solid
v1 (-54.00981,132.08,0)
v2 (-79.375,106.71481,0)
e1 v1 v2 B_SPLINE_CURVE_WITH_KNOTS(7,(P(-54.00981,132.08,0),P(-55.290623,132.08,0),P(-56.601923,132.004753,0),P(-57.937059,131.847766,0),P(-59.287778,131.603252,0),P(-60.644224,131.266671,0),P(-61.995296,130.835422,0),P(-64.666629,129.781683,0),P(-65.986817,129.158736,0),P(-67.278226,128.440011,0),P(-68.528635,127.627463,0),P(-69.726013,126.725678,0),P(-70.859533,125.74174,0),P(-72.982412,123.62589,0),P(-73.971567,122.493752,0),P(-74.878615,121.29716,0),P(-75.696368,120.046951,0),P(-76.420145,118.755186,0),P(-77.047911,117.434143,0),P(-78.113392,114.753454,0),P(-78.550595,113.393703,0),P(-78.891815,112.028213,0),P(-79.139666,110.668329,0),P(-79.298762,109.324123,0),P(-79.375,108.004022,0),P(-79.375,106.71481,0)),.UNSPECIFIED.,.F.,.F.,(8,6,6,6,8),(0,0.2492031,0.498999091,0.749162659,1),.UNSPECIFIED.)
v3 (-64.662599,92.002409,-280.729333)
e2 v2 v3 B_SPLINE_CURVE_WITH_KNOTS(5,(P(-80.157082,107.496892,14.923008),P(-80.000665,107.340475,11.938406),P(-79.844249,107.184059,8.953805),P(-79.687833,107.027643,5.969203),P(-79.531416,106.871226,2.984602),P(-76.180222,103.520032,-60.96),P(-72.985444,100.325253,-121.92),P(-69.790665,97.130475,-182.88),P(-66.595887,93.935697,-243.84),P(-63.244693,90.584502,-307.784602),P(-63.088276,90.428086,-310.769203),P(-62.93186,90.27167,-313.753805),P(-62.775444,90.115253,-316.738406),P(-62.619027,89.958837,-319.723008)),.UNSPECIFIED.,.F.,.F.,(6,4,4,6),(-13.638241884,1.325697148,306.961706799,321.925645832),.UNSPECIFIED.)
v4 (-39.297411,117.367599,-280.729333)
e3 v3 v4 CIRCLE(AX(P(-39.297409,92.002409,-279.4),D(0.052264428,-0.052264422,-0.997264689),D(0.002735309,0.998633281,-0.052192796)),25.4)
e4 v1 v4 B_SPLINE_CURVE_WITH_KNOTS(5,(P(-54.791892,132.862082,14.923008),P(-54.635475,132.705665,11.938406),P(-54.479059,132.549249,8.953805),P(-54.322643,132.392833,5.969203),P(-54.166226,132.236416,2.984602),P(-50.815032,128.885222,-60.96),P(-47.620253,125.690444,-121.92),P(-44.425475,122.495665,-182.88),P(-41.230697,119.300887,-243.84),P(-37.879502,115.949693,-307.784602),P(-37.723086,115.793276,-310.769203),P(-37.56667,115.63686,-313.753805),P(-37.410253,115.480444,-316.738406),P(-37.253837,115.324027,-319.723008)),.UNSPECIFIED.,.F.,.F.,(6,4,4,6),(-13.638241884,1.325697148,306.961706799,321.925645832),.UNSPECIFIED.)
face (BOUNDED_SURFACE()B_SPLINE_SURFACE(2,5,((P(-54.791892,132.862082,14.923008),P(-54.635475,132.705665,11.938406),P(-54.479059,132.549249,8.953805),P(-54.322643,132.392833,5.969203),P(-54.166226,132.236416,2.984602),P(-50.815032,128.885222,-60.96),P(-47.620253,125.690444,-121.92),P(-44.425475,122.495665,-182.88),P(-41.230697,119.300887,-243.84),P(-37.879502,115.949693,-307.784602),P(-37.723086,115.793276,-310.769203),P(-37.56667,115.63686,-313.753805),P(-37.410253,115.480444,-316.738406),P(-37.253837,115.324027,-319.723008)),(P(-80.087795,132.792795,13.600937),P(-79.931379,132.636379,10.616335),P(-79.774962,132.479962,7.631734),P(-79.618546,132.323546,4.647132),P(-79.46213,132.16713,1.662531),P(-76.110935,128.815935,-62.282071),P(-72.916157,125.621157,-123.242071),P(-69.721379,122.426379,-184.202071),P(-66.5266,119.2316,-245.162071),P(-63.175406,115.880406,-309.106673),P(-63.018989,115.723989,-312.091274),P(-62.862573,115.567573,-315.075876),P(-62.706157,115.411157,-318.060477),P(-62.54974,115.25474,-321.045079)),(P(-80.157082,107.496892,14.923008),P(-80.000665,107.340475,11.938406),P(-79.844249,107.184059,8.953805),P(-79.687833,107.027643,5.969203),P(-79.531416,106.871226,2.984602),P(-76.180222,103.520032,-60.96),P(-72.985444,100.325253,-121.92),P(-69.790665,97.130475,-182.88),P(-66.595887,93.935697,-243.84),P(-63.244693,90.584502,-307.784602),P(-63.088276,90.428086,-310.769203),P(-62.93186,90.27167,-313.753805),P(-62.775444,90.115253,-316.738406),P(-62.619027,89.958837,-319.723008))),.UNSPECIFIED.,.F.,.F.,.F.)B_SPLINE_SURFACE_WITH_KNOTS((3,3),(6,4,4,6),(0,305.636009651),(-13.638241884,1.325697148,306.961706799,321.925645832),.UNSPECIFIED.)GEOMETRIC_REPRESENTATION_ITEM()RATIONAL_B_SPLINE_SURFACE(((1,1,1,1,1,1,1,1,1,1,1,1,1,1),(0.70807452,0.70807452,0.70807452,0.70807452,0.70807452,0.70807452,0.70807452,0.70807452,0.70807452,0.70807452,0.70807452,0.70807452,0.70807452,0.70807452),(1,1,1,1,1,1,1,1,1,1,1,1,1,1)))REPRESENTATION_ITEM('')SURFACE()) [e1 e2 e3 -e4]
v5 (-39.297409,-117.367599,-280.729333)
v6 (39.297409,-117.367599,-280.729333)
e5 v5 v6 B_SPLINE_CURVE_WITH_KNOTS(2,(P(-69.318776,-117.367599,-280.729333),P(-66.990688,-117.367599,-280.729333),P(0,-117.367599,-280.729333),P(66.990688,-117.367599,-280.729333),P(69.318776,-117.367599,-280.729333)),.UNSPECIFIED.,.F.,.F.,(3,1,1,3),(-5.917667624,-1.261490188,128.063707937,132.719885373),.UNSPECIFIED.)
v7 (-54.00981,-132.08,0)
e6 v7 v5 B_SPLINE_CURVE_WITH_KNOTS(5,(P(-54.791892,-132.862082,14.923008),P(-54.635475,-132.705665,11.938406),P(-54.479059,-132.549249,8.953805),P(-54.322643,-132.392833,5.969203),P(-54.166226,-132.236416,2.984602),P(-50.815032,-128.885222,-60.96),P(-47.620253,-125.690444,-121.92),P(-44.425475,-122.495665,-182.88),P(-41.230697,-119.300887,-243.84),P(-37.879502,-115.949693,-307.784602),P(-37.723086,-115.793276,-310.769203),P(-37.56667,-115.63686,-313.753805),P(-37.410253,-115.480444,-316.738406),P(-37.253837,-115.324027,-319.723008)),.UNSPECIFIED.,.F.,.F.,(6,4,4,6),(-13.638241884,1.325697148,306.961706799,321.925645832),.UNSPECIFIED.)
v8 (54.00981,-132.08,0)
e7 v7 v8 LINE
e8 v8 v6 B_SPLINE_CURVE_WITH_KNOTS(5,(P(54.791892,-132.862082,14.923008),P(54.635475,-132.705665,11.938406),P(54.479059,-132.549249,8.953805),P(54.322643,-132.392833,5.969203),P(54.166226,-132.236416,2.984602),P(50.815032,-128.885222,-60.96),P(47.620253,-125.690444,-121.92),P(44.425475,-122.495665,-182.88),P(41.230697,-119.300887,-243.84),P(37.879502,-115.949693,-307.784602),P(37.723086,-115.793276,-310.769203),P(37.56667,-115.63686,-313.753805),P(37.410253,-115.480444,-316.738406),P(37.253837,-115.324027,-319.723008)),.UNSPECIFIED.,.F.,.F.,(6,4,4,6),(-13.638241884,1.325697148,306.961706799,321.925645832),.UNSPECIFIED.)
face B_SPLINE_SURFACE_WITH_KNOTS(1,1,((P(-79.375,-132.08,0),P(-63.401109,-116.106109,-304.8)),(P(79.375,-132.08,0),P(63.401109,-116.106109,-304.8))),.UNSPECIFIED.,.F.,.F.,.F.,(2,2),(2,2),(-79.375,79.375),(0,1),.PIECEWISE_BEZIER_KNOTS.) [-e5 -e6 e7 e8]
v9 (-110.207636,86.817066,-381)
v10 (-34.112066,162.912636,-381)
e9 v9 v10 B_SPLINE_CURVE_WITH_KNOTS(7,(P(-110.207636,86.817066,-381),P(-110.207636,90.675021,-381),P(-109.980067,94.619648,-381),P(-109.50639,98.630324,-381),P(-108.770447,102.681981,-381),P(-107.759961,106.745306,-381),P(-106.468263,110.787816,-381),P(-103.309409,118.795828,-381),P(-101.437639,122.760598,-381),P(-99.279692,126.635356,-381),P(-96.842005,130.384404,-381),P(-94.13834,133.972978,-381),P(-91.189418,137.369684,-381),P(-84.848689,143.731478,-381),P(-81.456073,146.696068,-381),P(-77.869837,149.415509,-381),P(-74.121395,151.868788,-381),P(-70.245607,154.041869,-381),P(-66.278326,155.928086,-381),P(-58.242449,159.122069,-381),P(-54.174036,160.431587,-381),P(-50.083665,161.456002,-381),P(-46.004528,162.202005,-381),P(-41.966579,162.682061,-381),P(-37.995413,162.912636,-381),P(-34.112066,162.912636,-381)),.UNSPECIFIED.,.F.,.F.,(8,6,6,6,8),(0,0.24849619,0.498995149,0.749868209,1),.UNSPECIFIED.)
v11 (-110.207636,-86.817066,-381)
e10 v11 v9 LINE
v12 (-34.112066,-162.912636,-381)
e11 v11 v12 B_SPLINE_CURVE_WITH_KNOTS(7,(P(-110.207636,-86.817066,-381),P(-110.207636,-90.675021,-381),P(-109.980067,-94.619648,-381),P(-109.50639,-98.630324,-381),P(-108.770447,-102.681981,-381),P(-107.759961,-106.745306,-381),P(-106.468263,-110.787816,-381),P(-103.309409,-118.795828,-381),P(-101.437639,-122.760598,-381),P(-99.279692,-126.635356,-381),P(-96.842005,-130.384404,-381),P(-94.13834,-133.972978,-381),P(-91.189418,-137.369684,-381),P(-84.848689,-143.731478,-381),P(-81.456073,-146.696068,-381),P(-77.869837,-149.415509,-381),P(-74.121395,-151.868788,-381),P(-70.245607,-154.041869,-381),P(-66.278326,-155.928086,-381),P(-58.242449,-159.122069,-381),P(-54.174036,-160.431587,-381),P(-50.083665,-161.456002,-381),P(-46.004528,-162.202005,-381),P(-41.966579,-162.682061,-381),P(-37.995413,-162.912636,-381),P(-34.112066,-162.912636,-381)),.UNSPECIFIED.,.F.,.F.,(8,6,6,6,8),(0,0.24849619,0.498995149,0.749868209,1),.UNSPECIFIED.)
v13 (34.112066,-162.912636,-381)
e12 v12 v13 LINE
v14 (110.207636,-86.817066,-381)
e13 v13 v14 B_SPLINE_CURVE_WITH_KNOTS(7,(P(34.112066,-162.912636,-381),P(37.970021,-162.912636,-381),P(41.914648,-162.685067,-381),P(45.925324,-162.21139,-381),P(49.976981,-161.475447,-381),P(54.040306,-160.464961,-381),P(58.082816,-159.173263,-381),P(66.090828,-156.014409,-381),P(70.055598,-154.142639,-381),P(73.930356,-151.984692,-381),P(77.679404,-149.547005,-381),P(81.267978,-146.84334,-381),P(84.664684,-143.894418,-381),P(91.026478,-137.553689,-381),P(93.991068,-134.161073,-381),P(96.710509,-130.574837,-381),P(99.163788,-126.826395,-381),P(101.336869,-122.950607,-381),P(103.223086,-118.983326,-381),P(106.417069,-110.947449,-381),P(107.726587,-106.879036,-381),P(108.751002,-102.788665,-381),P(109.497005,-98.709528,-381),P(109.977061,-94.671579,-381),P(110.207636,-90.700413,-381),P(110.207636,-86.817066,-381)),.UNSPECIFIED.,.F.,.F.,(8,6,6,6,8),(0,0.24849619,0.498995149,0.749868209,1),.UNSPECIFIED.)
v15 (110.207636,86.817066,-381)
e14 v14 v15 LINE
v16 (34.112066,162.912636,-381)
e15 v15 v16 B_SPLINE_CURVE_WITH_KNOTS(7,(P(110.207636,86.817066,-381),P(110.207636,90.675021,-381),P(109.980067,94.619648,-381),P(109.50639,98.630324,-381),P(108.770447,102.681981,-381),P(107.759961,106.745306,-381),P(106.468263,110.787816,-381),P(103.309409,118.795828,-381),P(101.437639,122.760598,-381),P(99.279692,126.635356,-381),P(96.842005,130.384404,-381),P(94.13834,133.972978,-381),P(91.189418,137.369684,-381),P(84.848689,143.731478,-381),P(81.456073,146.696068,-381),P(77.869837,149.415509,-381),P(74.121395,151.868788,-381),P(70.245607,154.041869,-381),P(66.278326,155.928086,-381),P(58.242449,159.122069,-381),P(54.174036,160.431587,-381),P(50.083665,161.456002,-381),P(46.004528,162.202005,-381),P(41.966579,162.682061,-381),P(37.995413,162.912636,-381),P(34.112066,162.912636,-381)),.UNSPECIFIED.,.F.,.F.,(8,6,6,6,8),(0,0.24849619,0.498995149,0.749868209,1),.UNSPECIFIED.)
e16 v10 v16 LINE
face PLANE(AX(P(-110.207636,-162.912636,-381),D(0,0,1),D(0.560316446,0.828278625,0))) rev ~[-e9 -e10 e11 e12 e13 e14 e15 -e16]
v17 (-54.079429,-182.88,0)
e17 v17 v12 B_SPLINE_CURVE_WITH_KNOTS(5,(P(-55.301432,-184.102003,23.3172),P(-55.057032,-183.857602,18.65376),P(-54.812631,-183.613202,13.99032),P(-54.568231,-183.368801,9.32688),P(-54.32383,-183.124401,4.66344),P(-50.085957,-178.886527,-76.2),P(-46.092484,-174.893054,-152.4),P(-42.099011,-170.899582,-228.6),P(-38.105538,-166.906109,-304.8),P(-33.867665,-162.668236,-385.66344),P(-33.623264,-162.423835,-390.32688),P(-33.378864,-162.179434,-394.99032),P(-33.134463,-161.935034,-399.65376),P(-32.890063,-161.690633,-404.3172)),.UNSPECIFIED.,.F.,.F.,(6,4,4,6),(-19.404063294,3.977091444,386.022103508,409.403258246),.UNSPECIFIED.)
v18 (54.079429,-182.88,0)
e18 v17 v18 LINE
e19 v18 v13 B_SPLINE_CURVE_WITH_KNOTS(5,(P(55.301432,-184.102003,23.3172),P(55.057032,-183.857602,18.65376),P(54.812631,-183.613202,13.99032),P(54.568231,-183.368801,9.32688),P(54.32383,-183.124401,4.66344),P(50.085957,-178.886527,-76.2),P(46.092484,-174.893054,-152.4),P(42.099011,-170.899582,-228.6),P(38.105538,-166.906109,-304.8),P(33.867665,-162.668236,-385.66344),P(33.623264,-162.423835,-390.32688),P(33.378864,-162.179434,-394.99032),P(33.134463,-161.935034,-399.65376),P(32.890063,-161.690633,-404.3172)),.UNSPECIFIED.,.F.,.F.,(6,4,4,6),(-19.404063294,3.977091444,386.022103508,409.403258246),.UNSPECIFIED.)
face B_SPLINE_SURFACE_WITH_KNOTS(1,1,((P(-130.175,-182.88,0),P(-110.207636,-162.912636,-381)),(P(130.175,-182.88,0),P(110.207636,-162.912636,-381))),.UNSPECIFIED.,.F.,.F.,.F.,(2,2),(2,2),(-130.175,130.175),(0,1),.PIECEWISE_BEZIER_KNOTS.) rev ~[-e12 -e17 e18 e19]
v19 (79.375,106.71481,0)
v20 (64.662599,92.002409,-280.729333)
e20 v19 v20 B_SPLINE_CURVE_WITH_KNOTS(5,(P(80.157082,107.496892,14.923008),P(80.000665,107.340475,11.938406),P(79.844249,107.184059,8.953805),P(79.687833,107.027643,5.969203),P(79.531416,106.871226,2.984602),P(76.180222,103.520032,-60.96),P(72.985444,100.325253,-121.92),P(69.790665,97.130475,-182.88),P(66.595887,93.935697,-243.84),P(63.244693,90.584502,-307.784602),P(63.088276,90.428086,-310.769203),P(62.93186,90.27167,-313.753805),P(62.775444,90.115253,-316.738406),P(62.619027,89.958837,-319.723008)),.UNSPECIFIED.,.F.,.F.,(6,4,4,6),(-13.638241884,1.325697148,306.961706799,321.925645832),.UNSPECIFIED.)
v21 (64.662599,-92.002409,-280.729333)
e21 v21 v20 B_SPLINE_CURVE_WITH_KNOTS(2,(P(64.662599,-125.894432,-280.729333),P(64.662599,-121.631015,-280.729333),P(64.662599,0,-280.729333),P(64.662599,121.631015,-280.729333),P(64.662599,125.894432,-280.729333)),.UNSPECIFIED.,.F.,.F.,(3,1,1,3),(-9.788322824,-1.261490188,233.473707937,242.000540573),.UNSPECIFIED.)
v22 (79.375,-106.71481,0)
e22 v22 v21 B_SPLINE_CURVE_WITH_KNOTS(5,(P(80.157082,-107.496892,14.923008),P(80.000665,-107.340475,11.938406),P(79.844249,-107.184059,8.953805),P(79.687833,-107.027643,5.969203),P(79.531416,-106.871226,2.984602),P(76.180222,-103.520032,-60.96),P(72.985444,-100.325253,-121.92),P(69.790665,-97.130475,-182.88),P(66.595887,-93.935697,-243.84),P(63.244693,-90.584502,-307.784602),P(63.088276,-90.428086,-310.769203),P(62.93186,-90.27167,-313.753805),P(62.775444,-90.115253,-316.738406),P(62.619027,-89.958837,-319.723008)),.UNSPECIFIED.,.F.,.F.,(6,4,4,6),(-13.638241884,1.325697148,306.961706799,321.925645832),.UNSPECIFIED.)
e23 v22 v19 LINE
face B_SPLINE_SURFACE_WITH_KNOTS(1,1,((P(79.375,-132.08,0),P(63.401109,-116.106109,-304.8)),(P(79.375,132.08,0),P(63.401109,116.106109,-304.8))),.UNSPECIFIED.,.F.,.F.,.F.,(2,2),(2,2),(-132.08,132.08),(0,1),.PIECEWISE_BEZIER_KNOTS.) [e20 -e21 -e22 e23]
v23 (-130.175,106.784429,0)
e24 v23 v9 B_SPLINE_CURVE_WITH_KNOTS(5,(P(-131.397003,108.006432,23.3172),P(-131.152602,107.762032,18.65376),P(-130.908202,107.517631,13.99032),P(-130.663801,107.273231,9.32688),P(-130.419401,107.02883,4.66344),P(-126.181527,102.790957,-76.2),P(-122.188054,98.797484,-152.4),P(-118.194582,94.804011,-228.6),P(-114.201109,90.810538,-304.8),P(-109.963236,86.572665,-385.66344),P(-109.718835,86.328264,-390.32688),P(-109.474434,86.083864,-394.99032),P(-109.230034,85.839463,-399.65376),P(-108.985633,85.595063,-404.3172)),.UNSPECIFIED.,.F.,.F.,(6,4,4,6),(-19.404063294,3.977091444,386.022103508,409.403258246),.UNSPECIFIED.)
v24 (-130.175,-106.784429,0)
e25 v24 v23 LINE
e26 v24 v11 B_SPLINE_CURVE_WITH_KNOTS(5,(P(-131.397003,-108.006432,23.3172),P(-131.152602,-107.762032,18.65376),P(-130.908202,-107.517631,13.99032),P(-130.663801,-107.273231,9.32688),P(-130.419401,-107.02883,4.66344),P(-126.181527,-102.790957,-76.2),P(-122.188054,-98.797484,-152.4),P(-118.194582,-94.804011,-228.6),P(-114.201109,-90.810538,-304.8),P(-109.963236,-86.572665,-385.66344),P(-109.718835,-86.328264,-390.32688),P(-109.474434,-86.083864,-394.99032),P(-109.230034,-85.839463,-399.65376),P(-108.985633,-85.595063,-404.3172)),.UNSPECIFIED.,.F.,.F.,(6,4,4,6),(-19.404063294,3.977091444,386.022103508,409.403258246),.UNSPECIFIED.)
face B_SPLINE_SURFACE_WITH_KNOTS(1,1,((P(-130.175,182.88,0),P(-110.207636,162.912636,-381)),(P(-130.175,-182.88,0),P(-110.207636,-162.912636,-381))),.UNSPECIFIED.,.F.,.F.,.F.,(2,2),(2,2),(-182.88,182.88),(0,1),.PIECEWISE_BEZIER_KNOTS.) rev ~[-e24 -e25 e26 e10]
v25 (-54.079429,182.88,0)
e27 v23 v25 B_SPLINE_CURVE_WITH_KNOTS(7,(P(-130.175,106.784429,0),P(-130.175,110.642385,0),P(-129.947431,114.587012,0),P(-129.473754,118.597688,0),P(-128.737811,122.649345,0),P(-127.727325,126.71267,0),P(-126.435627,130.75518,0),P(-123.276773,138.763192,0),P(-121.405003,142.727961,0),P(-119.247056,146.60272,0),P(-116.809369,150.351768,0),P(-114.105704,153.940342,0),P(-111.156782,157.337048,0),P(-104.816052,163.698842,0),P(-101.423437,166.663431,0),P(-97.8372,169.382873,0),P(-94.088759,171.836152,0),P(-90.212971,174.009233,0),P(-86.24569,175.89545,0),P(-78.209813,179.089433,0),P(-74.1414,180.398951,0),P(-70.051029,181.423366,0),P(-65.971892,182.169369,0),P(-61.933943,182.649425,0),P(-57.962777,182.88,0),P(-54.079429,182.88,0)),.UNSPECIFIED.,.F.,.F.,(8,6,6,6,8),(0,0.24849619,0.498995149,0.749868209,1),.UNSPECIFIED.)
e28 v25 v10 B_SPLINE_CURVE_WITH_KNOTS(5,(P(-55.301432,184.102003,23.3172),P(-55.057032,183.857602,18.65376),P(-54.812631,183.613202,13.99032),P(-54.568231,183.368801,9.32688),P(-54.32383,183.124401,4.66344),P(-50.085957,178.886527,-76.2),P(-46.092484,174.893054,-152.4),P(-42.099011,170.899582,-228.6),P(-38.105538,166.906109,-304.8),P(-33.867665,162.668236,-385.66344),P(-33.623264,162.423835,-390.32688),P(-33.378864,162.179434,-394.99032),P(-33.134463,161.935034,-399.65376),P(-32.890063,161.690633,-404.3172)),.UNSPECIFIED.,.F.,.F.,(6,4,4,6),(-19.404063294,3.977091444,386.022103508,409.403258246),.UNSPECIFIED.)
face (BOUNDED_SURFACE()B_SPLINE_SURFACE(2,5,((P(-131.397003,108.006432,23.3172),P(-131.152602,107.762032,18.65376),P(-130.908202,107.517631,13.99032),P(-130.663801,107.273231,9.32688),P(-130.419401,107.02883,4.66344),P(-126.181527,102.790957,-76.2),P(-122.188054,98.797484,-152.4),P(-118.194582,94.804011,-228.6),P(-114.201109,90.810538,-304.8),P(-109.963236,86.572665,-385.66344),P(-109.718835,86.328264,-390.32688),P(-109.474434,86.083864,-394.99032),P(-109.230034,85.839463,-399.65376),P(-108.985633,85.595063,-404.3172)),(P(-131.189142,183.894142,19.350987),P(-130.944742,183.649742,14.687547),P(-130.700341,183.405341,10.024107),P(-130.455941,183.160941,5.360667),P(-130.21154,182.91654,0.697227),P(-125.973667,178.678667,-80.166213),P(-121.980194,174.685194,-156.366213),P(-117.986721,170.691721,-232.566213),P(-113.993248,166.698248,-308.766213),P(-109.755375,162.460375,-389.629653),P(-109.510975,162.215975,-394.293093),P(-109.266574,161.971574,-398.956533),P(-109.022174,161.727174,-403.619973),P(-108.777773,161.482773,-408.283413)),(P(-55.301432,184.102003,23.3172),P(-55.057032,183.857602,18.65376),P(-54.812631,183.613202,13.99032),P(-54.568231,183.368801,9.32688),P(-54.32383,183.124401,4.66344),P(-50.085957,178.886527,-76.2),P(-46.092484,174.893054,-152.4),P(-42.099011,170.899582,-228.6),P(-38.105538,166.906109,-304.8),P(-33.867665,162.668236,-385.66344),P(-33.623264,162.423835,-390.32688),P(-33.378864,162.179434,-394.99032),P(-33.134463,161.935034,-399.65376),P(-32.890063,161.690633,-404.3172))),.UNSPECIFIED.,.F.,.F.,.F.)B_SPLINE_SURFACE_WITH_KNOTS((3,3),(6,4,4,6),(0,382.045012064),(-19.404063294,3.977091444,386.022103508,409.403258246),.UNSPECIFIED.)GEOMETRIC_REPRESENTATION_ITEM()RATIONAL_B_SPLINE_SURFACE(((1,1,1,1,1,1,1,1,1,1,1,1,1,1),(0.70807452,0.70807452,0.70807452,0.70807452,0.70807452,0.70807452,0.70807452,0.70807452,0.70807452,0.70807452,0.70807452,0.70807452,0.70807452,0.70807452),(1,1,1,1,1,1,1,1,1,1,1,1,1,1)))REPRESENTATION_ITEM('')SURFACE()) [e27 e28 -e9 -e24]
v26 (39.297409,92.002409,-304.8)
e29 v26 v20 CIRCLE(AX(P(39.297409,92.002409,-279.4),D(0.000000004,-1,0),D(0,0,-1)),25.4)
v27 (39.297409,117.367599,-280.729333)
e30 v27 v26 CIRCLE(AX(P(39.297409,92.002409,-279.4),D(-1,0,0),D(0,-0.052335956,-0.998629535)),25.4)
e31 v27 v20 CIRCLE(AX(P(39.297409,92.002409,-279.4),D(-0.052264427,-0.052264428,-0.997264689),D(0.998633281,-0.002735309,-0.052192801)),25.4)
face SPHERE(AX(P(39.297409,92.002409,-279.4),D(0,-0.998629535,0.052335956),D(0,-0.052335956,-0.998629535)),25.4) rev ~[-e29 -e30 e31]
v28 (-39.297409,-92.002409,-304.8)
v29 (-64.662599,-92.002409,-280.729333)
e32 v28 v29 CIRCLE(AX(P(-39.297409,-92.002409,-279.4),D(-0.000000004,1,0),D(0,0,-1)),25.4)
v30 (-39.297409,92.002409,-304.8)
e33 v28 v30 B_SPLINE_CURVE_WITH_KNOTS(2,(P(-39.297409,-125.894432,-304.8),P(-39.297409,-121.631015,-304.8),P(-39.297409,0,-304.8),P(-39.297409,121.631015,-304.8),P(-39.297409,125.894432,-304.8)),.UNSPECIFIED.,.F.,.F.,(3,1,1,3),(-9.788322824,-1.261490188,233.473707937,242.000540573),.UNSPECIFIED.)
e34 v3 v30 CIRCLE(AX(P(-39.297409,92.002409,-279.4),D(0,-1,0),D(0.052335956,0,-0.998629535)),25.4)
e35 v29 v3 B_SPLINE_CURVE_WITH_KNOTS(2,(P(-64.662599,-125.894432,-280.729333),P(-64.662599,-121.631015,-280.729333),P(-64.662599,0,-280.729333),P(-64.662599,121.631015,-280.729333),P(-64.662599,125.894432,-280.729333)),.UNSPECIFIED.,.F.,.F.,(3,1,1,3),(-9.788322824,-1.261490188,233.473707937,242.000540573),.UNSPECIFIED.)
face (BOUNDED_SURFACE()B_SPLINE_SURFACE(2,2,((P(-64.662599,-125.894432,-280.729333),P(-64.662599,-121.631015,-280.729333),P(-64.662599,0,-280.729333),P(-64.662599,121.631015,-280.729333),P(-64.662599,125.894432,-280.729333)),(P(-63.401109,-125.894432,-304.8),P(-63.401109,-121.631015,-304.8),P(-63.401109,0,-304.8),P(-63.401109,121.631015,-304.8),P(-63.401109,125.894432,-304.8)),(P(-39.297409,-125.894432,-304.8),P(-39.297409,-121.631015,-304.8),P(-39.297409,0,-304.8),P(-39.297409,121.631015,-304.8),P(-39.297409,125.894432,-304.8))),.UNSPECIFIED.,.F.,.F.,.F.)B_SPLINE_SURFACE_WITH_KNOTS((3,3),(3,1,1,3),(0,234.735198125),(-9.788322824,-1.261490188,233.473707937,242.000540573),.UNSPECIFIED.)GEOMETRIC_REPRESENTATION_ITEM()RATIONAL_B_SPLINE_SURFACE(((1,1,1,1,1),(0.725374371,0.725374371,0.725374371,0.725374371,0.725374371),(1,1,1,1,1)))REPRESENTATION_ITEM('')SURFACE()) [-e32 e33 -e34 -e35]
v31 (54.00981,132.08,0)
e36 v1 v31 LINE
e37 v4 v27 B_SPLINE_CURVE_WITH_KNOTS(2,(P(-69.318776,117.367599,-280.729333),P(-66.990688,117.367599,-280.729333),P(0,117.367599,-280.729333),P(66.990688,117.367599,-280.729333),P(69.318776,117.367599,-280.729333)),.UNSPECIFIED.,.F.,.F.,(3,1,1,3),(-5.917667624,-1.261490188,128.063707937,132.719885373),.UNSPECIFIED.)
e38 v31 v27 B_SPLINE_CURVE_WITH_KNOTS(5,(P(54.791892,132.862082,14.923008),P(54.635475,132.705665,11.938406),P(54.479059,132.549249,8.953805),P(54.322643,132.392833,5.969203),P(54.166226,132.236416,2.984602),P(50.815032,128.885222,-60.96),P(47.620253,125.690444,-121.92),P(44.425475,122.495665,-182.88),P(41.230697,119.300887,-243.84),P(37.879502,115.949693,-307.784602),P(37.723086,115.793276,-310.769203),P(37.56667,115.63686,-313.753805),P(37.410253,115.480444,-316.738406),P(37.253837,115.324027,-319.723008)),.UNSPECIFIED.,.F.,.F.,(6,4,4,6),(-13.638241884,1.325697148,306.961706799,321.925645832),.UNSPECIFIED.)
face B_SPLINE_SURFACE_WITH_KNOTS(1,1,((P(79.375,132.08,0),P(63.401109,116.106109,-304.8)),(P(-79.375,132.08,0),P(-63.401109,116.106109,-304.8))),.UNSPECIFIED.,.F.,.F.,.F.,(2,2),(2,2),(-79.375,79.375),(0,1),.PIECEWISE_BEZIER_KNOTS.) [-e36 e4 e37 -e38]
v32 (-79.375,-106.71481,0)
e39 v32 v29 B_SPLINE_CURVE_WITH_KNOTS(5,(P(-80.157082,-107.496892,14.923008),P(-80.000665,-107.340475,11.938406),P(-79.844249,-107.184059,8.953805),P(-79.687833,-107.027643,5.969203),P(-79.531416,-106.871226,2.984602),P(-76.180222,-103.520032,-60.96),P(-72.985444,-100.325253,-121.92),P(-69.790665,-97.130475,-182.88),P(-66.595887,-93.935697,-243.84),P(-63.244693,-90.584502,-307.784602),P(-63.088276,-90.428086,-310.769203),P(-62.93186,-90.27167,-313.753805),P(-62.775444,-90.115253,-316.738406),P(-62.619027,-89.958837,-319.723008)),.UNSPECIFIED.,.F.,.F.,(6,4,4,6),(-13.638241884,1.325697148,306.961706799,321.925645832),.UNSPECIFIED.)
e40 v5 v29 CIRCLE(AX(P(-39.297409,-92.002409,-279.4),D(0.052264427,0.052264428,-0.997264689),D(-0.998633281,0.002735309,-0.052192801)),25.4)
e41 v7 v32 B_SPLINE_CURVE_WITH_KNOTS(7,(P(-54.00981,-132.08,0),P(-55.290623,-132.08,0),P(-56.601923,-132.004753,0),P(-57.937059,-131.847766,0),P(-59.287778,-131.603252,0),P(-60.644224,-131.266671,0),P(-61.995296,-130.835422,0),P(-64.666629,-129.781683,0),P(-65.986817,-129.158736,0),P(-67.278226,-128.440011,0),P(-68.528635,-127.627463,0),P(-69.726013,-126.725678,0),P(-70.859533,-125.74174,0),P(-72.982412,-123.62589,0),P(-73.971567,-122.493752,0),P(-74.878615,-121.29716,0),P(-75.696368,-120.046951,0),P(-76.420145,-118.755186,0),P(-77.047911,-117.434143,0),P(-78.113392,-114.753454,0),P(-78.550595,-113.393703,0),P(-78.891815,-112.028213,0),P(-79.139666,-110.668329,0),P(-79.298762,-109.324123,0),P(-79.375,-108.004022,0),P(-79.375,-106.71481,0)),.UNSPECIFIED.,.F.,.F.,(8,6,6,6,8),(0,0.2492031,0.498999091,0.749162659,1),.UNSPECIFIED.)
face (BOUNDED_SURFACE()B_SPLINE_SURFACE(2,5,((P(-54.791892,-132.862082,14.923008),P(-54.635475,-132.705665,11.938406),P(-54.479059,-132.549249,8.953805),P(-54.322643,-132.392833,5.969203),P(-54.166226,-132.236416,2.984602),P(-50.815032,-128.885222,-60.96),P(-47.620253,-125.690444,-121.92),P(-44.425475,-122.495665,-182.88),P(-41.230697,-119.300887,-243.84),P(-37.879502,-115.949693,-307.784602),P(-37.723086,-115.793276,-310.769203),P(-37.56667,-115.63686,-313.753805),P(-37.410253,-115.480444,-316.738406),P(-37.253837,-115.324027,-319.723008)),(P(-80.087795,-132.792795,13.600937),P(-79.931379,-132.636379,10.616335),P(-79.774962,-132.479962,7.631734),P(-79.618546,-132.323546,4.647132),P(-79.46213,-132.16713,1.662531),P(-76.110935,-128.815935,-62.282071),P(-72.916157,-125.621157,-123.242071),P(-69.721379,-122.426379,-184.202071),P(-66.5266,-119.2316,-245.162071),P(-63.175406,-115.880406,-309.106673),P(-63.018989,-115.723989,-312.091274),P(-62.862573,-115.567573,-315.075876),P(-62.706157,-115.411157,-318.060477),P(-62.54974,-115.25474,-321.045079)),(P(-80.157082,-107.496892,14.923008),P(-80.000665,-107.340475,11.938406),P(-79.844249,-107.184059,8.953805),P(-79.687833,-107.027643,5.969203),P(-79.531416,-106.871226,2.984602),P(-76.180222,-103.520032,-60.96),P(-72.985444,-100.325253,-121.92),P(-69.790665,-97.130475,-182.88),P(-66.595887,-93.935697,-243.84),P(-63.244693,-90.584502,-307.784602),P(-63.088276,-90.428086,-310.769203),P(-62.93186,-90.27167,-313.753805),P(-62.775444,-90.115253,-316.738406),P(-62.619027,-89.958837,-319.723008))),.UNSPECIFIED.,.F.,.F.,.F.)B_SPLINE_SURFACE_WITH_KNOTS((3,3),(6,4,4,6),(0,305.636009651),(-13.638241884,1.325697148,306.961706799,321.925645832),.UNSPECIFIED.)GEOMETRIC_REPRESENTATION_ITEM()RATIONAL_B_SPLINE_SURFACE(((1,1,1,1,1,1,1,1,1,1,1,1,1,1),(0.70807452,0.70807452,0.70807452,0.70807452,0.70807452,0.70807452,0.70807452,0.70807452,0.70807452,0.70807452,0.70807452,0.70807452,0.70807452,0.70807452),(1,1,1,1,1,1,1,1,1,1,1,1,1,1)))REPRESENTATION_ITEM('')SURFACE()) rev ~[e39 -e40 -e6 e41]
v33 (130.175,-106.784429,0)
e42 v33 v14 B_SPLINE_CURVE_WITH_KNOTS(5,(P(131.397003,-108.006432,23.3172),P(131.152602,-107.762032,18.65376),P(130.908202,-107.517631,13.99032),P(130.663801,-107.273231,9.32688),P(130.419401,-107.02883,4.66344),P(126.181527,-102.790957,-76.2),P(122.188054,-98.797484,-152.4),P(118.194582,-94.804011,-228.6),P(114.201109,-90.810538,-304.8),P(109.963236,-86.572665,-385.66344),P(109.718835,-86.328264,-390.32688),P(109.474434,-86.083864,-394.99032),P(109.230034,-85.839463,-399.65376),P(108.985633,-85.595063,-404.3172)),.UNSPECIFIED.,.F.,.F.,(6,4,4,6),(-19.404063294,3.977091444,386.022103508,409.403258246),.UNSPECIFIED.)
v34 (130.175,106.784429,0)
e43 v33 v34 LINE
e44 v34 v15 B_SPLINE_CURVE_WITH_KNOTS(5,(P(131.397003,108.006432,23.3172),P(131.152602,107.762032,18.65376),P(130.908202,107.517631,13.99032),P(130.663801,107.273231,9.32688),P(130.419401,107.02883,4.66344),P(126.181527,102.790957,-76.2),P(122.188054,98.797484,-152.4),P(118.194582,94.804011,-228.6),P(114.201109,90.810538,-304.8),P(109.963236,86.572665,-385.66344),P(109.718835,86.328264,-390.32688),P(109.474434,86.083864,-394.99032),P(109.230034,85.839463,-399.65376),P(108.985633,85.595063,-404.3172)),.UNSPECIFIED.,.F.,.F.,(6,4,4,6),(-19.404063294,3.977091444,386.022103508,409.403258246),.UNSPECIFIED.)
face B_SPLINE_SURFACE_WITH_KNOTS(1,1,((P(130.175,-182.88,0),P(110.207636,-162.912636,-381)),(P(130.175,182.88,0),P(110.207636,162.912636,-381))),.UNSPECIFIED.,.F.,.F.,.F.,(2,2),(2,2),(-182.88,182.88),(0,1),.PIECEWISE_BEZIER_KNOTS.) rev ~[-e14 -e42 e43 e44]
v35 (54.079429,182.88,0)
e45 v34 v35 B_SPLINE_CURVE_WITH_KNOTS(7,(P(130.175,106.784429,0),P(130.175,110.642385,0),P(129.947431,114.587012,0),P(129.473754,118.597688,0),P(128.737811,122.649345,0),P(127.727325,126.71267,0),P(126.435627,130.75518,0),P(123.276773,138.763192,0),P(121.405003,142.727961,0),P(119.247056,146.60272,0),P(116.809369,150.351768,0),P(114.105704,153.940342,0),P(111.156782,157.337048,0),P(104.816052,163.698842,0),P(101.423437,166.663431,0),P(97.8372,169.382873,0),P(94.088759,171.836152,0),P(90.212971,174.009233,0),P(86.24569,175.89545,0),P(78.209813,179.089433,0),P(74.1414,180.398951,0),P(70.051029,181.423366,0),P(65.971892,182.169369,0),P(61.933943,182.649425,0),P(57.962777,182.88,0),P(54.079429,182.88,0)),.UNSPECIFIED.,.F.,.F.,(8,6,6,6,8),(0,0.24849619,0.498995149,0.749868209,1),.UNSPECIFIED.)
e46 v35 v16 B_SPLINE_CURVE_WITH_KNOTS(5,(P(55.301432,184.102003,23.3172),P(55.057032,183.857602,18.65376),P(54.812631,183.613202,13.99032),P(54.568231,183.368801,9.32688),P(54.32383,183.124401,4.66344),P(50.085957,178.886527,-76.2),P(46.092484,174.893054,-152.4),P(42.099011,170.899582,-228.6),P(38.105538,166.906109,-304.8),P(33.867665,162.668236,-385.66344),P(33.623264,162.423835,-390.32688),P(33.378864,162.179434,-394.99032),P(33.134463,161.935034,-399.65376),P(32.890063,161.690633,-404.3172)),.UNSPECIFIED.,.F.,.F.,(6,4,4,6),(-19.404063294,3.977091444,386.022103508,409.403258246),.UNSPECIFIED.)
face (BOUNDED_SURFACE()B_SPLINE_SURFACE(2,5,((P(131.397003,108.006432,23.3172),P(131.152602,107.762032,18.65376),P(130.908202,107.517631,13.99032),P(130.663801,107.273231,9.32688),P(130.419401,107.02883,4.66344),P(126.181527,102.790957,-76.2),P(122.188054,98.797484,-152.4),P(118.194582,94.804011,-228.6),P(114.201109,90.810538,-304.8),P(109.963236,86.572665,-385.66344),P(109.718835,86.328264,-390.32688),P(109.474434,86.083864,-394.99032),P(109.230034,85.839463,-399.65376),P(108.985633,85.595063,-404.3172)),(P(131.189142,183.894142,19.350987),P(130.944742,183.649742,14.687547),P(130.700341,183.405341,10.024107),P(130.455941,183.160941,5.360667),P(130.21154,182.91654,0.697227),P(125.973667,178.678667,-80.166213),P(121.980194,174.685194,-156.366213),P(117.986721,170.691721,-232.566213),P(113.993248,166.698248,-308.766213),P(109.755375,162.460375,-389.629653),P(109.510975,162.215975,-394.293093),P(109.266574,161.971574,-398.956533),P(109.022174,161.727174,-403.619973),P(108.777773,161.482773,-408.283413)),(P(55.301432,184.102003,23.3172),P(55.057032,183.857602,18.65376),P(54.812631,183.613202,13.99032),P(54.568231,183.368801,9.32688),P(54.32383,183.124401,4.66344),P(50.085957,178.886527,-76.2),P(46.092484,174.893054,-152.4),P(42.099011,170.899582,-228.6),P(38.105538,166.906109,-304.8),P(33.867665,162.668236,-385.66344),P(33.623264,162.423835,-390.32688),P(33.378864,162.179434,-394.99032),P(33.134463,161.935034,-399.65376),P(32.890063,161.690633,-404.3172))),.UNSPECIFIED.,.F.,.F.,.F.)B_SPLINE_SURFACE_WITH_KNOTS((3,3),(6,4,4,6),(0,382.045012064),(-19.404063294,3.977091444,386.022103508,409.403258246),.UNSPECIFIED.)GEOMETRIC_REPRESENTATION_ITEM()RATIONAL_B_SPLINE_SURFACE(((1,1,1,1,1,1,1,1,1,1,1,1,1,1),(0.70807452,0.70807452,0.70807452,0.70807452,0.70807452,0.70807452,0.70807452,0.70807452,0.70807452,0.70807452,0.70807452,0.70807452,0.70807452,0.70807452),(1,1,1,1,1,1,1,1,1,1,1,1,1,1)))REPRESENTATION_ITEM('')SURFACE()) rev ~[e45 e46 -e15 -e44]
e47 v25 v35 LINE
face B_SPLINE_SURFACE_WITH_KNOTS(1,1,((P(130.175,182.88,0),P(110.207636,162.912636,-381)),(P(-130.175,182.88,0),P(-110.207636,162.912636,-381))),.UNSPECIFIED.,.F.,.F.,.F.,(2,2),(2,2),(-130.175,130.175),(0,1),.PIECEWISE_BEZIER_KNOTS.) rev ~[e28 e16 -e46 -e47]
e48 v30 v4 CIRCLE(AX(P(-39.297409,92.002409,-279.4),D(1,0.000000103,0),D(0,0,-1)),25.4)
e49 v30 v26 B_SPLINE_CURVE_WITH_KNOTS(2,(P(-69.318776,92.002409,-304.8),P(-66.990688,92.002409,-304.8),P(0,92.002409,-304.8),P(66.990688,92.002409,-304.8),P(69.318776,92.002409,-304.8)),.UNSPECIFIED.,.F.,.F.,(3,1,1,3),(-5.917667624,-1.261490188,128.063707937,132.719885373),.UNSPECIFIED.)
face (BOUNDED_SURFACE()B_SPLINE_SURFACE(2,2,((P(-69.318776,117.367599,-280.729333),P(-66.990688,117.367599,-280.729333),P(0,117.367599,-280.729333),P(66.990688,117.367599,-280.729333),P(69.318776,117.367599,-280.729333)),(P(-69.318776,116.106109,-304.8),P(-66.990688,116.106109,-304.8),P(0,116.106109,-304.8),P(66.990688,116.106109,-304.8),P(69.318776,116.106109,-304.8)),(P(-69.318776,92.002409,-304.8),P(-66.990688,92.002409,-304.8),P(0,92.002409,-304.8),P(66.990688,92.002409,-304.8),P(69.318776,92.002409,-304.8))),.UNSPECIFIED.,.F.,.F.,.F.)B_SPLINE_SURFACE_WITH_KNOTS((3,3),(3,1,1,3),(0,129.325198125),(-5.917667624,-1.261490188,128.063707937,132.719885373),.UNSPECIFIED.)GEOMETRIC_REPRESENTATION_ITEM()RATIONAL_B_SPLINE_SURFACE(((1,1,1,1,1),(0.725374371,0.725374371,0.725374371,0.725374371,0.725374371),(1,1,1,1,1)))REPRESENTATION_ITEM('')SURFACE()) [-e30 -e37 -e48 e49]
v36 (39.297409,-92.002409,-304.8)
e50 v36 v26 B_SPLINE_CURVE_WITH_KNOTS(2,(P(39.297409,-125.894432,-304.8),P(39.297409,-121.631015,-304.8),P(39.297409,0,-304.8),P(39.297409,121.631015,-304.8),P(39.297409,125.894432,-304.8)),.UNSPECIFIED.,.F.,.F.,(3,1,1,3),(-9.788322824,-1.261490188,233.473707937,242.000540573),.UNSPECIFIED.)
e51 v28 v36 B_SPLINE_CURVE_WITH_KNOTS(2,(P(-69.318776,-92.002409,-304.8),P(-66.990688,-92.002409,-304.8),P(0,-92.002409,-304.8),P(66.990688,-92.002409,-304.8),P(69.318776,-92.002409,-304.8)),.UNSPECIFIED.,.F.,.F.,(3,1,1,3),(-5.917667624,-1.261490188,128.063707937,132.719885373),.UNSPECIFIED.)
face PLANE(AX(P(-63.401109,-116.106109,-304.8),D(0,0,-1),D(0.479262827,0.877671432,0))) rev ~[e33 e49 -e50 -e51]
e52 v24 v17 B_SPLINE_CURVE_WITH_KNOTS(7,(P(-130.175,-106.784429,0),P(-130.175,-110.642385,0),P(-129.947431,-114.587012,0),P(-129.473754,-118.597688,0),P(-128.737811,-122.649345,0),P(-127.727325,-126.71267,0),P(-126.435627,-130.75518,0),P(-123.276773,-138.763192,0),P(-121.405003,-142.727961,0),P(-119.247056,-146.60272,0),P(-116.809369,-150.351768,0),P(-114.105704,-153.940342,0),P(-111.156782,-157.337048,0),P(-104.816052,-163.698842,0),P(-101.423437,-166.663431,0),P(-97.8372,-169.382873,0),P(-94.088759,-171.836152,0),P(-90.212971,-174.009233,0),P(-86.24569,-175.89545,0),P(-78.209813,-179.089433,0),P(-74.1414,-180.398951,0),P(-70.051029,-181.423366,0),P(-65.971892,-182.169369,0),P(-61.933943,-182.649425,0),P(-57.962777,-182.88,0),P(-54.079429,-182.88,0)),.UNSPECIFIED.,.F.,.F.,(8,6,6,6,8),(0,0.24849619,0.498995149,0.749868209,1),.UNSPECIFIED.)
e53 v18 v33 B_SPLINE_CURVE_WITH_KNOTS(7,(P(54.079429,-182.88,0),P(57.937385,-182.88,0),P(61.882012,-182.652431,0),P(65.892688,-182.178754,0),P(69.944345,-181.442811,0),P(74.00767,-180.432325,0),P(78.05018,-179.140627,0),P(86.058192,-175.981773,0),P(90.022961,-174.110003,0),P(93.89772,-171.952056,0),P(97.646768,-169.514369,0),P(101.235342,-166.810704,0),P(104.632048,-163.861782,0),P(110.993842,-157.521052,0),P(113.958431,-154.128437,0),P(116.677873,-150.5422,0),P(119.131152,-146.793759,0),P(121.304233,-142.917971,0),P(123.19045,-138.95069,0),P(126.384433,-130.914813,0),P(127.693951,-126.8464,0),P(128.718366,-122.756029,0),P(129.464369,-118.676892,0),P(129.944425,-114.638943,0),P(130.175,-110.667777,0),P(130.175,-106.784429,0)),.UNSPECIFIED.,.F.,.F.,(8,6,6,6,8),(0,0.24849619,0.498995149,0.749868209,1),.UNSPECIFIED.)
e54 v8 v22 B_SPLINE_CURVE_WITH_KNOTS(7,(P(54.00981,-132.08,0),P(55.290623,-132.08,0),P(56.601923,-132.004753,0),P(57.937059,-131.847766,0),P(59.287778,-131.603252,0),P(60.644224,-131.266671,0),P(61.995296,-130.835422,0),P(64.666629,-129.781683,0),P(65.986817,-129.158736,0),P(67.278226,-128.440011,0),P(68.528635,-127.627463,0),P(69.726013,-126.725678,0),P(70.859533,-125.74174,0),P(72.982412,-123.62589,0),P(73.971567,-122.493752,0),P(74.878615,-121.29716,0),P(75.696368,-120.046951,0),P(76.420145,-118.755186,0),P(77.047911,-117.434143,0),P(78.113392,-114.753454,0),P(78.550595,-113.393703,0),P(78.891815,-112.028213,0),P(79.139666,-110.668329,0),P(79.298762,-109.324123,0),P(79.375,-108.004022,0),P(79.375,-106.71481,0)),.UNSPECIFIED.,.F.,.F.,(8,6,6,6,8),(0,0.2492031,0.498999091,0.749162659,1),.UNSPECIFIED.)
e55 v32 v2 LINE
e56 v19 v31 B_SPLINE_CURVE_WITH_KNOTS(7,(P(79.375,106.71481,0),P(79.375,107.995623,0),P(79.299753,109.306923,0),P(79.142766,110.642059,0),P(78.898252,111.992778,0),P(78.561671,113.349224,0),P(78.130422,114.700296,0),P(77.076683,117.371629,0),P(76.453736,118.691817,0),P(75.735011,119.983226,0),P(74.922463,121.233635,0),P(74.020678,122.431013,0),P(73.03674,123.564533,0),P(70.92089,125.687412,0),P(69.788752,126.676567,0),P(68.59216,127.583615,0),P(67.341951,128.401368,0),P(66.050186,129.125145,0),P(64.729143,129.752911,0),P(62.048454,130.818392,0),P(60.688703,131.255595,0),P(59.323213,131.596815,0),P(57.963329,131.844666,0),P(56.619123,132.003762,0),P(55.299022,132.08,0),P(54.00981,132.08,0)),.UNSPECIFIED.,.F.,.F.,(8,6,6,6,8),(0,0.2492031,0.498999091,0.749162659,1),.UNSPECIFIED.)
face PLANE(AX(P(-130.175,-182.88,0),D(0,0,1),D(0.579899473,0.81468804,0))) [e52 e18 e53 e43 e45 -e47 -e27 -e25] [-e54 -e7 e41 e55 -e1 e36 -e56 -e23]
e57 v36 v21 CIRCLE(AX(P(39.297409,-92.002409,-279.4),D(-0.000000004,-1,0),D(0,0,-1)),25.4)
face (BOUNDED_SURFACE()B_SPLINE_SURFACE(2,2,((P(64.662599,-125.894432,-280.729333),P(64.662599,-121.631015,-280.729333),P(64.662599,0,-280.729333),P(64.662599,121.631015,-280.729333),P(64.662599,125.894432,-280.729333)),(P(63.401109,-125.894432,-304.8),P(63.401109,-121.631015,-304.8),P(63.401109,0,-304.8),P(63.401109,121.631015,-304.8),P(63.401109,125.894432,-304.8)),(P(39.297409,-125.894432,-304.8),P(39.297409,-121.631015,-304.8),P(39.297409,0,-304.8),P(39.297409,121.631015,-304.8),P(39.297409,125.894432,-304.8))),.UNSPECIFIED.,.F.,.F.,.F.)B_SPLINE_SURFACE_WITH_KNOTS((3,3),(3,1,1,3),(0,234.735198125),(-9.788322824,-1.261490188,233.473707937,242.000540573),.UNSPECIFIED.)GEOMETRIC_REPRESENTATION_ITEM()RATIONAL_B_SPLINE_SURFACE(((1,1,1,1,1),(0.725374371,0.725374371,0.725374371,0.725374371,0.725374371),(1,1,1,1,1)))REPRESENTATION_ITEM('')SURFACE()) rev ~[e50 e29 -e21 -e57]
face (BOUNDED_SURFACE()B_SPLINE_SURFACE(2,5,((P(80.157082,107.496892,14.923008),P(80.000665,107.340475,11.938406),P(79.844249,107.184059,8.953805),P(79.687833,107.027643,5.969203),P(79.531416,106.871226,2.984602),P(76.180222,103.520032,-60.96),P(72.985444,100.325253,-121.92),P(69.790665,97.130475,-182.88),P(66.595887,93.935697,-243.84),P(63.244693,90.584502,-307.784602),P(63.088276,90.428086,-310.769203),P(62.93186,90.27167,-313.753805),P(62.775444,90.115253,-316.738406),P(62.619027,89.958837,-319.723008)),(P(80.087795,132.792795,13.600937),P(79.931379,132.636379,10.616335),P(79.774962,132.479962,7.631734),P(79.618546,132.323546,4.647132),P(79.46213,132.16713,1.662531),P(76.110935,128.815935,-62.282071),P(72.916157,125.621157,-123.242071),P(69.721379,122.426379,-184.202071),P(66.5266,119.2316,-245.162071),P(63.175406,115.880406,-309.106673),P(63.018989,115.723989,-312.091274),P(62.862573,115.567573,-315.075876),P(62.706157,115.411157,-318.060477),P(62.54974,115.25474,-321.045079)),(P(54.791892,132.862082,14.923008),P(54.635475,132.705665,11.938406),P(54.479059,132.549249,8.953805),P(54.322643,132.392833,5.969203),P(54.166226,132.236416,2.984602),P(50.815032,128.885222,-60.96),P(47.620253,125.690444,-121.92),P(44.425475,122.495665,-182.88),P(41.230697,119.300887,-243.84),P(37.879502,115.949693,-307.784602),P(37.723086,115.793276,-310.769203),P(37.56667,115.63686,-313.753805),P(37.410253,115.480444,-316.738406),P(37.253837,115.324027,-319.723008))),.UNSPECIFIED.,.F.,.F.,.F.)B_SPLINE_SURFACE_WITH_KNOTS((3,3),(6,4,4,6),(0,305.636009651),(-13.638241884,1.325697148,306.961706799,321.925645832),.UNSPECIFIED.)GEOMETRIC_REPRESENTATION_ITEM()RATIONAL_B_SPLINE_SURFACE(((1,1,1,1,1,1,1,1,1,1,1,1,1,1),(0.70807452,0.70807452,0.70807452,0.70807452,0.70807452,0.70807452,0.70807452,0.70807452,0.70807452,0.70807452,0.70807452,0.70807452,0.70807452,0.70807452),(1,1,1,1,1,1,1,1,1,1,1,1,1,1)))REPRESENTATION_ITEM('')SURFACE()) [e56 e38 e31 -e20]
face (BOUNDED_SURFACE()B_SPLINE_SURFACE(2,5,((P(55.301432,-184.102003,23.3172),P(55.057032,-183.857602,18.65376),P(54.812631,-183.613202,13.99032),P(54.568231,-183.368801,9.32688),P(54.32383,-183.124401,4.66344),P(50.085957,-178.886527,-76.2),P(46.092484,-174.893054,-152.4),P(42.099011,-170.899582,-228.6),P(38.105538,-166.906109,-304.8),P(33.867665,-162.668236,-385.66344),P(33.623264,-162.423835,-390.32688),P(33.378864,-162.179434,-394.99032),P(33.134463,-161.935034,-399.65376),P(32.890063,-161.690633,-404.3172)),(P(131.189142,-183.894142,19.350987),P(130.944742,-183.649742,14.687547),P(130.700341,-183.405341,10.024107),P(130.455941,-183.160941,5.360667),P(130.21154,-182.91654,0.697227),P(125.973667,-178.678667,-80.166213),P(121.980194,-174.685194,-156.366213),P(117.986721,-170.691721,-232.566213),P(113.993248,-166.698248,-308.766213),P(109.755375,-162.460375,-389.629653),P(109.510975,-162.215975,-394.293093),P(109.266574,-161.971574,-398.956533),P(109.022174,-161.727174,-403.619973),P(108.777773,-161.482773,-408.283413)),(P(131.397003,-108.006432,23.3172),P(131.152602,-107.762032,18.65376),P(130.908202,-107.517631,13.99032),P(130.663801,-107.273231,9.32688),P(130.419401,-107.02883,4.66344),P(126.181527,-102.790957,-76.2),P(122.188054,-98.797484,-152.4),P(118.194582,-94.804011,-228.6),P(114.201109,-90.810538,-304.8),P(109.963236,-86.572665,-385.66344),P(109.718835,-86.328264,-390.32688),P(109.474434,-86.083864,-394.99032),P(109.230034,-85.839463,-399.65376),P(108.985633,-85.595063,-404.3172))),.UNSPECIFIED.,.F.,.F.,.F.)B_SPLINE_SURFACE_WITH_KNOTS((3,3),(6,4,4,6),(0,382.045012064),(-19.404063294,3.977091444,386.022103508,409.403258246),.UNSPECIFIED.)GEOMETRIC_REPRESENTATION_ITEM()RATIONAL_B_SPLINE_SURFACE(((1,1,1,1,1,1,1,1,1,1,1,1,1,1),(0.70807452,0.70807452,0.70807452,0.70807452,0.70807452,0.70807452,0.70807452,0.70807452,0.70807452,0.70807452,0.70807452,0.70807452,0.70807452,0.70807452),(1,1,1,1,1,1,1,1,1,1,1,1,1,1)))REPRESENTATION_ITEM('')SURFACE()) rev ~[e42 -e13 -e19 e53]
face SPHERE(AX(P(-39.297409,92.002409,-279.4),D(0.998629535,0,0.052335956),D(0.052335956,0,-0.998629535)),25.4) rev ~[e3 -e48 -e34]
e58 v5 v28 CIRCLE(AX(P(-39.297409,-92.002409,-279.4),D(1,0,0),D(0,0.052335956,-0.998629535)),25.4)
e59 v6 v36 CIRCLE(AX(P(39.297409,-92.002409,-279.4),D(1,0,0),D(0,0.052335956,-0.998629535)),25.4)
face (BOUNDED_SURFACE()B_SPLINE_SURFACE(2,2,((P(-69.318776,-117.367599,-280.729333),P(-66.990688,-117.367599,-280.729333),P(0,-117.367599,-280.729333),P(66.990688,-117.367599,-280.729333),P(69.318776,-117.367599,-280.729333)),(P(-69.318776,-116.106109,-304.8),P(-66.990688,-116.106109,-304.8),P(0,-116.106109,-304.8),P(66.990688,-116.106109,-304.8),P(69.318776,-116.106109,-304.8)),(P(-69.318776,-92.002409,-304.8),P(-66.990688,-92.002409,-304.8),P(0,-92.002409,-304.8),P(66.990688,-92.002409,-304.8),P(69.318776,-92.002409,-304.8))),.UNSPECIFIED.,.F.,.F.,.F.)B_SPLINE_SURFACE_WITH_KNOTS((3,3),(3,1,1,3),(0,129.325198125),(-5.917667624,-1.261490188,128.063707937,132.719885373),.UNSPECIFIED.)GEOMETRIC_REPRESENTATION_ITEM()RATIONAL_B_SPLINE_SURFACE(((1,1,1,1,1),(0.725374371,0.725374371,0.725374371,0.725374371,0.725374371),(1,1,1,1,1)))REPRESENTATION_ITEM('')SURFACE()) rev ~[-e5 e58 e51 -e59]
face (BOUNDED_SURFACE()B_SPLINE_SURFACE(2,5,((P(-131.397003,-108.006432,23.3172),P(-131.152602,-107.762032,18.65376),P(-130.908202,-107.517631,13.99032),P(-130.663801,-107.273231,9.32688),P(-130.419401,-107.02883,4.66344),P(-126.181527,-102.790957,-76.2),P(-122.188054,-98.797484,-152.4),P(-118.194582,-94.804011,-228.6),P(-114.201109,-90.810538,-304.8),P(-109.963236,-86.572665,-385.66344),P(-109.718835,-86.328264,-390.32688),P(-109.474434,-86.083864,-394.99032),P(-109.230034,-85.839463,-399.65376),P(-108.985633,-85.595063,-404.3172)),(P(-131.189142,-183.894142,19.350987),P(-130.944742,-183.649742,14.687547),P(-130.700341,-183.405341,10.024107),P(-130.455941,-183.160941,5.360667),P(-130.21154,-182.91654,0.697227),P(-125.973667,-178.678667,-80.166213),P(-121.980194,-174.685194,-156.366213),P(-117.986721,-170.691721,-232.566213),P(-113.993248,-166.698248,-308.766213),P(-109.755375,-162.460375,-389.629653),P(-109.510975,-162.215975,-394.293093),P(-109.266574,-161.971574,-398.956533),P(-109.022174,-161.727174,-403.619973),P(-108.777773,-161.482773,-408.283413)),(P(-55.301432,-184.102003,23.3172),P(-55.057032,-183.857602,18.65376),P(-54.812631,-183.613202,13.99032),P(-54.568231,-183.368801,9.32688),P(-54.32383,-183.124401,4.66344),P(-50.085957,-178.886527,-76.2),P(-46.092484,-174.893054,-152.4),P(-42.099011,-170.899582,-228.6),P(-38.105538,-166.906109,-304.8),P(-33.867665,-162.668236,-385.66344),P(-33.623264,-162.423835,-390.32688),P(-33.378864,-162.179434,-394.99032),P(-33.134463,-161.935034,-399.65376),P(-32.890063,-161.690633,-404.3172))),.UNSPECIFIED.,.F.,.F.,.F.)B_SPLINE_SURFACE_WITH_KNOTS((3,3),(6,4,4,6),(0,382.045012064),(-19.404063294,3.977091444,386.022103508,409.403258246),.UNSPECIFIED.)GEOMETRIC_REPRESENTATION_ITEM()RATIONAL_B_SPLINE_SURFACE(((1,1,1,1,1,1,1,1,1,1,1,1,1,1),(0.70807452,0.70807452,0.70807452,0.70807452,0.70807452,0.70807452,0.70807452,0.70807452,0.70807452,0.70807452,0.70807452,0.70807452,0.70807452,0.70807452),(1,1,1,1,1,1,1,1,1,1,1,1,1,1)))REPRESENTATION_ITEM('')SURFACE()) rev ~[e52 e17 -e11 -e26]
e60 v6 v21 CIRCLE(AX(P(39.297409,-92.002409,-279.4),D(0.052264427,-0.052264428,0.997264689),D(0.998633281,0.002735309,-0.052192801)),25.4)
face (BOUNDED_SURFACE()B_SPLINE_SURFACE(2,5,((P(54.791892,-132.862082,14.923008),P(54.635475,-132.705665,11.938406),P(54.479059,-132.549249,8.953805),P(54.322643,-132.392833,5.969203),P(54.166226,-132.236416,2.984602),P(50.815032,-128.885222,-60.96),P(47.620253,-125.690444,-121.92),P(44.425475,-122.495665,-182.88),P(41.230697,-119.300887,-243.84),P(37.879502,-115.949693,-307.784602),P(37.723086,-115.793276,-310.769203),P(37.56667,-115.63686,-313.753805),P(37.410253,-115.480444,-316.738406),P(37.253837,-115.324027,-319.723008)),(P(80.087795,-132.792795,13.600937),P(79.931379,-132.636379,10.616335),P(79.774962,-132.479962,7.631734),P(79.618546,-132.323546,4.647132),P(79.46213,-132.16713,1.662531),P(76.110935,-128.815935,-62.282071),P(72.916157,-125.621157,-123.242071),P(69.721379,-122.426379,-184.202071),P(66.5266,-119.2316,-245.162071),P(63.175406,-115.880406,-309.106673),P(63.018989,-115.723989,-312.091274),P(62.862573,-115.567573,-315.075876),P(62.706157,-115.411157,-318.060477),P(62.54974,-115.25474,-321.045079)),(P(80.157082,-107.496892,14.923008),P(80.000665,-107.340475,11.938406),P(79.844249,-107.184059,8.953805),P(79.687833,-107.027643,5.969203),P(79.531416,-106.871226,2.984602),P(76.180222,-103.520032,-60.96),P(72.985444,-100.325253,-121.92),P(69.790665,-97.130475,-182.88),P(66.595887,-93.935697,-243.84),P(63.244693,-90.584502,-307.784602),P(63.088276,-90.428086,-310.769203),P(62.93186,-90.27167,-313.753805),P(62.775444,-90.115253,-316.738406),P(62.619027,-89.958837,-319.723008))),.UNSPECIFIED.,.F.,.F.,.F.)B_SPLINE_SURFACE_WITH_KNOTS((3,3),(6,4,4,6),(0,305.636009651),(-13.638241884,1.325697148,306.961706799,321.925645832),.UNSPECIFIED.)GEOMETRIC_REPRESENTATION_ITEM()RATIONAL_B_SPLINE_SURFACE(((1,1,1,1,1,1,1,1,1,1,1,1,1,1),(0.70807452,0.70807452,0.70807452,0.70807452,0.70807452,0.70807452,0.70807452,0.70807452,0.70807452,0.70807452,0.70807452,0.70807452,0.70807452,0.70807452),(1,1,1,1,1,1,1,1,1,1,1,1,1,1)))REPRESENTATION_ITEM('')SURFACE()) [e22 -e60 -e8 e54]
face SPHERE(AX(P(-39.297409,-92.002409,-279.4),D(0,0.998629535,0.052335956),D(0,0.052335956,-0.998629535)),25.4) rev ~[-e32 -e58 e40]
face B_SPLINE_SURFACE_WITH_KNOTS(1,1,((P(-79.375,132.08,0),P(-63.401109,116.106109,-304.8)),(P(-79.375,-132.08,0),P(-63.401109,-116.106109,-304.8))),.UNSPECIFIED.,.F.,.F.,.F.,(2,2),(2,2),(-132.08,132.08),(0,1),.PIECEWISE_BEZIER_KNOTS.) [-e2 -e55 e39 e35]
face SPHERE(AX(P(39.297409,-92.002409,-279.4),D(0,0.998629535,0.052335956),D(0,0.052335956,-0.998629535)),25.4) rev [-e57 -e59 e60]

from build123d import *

# Parameters (mm, degrees)
F0_W     = 260.35
F0_H     = 365.76
F0_W_2   = 158.75
F0_H_2   = 264.16
F1_DEPTH = 381
F1_TAPER = 3
F2_R     = 76.2
F3_DEPTH = 304.8
F3_TAPER = 3
F4_R     = 25.4


with BuildPart() as f1:
    # F0 (on Top) → F1 (new body)
    with BuildSketch(Plane.XY):
        Rectangle(F0_W, F0_H)
        Rectangle(F0_W_2, F0_H_2, mode=Mode.SUBTRACT)
        Rectangle(F0_W_2, F0_H_2)
    extrude(amount=-F1_DEPTH, taper=F1_TAPER)

    # F2
    f2_edges = [f1.edges().sort_by_distance(p)[0] for p in [
        (-120.191318, -172.896318, -190.5),
        (120.191318, -172.896318, -190.5),
        (120.191318, 172.896318, -190.5),
        (-120.191318, 172.896318, -190.5),
    ]]
    fillet(f2_edges, radius=F2_R)

    # F0 (on Top) → F3 (cut)
    with BuildSketch(Plane.XY):
        Rectangle(F0_W_2, F0_H_2)
    extrude(amount=-F3_DEPTH, taper=F3_TAPER, mode=Mode.SUBTRACT)

    # F4
    f4_edges = [f1.edges().sort_by_distance(p)[0] for p in [
        (63.401109, 0, -304.8),
        (0, 116.106109, -304.8),
        (-63.401109, 0, -304.8),
        (0, -116.106109, -304.8),
        (-71.388054, 124.093054, -152.4),
        (71.388054, 124.093054, -152.4),
        (71.388054, -124.093054, -152.4),
        (-71.388054, -124.093054, -152.4),
    ]]
    fillet(f4_edges, radius=F4_R)


solid = f1.part
